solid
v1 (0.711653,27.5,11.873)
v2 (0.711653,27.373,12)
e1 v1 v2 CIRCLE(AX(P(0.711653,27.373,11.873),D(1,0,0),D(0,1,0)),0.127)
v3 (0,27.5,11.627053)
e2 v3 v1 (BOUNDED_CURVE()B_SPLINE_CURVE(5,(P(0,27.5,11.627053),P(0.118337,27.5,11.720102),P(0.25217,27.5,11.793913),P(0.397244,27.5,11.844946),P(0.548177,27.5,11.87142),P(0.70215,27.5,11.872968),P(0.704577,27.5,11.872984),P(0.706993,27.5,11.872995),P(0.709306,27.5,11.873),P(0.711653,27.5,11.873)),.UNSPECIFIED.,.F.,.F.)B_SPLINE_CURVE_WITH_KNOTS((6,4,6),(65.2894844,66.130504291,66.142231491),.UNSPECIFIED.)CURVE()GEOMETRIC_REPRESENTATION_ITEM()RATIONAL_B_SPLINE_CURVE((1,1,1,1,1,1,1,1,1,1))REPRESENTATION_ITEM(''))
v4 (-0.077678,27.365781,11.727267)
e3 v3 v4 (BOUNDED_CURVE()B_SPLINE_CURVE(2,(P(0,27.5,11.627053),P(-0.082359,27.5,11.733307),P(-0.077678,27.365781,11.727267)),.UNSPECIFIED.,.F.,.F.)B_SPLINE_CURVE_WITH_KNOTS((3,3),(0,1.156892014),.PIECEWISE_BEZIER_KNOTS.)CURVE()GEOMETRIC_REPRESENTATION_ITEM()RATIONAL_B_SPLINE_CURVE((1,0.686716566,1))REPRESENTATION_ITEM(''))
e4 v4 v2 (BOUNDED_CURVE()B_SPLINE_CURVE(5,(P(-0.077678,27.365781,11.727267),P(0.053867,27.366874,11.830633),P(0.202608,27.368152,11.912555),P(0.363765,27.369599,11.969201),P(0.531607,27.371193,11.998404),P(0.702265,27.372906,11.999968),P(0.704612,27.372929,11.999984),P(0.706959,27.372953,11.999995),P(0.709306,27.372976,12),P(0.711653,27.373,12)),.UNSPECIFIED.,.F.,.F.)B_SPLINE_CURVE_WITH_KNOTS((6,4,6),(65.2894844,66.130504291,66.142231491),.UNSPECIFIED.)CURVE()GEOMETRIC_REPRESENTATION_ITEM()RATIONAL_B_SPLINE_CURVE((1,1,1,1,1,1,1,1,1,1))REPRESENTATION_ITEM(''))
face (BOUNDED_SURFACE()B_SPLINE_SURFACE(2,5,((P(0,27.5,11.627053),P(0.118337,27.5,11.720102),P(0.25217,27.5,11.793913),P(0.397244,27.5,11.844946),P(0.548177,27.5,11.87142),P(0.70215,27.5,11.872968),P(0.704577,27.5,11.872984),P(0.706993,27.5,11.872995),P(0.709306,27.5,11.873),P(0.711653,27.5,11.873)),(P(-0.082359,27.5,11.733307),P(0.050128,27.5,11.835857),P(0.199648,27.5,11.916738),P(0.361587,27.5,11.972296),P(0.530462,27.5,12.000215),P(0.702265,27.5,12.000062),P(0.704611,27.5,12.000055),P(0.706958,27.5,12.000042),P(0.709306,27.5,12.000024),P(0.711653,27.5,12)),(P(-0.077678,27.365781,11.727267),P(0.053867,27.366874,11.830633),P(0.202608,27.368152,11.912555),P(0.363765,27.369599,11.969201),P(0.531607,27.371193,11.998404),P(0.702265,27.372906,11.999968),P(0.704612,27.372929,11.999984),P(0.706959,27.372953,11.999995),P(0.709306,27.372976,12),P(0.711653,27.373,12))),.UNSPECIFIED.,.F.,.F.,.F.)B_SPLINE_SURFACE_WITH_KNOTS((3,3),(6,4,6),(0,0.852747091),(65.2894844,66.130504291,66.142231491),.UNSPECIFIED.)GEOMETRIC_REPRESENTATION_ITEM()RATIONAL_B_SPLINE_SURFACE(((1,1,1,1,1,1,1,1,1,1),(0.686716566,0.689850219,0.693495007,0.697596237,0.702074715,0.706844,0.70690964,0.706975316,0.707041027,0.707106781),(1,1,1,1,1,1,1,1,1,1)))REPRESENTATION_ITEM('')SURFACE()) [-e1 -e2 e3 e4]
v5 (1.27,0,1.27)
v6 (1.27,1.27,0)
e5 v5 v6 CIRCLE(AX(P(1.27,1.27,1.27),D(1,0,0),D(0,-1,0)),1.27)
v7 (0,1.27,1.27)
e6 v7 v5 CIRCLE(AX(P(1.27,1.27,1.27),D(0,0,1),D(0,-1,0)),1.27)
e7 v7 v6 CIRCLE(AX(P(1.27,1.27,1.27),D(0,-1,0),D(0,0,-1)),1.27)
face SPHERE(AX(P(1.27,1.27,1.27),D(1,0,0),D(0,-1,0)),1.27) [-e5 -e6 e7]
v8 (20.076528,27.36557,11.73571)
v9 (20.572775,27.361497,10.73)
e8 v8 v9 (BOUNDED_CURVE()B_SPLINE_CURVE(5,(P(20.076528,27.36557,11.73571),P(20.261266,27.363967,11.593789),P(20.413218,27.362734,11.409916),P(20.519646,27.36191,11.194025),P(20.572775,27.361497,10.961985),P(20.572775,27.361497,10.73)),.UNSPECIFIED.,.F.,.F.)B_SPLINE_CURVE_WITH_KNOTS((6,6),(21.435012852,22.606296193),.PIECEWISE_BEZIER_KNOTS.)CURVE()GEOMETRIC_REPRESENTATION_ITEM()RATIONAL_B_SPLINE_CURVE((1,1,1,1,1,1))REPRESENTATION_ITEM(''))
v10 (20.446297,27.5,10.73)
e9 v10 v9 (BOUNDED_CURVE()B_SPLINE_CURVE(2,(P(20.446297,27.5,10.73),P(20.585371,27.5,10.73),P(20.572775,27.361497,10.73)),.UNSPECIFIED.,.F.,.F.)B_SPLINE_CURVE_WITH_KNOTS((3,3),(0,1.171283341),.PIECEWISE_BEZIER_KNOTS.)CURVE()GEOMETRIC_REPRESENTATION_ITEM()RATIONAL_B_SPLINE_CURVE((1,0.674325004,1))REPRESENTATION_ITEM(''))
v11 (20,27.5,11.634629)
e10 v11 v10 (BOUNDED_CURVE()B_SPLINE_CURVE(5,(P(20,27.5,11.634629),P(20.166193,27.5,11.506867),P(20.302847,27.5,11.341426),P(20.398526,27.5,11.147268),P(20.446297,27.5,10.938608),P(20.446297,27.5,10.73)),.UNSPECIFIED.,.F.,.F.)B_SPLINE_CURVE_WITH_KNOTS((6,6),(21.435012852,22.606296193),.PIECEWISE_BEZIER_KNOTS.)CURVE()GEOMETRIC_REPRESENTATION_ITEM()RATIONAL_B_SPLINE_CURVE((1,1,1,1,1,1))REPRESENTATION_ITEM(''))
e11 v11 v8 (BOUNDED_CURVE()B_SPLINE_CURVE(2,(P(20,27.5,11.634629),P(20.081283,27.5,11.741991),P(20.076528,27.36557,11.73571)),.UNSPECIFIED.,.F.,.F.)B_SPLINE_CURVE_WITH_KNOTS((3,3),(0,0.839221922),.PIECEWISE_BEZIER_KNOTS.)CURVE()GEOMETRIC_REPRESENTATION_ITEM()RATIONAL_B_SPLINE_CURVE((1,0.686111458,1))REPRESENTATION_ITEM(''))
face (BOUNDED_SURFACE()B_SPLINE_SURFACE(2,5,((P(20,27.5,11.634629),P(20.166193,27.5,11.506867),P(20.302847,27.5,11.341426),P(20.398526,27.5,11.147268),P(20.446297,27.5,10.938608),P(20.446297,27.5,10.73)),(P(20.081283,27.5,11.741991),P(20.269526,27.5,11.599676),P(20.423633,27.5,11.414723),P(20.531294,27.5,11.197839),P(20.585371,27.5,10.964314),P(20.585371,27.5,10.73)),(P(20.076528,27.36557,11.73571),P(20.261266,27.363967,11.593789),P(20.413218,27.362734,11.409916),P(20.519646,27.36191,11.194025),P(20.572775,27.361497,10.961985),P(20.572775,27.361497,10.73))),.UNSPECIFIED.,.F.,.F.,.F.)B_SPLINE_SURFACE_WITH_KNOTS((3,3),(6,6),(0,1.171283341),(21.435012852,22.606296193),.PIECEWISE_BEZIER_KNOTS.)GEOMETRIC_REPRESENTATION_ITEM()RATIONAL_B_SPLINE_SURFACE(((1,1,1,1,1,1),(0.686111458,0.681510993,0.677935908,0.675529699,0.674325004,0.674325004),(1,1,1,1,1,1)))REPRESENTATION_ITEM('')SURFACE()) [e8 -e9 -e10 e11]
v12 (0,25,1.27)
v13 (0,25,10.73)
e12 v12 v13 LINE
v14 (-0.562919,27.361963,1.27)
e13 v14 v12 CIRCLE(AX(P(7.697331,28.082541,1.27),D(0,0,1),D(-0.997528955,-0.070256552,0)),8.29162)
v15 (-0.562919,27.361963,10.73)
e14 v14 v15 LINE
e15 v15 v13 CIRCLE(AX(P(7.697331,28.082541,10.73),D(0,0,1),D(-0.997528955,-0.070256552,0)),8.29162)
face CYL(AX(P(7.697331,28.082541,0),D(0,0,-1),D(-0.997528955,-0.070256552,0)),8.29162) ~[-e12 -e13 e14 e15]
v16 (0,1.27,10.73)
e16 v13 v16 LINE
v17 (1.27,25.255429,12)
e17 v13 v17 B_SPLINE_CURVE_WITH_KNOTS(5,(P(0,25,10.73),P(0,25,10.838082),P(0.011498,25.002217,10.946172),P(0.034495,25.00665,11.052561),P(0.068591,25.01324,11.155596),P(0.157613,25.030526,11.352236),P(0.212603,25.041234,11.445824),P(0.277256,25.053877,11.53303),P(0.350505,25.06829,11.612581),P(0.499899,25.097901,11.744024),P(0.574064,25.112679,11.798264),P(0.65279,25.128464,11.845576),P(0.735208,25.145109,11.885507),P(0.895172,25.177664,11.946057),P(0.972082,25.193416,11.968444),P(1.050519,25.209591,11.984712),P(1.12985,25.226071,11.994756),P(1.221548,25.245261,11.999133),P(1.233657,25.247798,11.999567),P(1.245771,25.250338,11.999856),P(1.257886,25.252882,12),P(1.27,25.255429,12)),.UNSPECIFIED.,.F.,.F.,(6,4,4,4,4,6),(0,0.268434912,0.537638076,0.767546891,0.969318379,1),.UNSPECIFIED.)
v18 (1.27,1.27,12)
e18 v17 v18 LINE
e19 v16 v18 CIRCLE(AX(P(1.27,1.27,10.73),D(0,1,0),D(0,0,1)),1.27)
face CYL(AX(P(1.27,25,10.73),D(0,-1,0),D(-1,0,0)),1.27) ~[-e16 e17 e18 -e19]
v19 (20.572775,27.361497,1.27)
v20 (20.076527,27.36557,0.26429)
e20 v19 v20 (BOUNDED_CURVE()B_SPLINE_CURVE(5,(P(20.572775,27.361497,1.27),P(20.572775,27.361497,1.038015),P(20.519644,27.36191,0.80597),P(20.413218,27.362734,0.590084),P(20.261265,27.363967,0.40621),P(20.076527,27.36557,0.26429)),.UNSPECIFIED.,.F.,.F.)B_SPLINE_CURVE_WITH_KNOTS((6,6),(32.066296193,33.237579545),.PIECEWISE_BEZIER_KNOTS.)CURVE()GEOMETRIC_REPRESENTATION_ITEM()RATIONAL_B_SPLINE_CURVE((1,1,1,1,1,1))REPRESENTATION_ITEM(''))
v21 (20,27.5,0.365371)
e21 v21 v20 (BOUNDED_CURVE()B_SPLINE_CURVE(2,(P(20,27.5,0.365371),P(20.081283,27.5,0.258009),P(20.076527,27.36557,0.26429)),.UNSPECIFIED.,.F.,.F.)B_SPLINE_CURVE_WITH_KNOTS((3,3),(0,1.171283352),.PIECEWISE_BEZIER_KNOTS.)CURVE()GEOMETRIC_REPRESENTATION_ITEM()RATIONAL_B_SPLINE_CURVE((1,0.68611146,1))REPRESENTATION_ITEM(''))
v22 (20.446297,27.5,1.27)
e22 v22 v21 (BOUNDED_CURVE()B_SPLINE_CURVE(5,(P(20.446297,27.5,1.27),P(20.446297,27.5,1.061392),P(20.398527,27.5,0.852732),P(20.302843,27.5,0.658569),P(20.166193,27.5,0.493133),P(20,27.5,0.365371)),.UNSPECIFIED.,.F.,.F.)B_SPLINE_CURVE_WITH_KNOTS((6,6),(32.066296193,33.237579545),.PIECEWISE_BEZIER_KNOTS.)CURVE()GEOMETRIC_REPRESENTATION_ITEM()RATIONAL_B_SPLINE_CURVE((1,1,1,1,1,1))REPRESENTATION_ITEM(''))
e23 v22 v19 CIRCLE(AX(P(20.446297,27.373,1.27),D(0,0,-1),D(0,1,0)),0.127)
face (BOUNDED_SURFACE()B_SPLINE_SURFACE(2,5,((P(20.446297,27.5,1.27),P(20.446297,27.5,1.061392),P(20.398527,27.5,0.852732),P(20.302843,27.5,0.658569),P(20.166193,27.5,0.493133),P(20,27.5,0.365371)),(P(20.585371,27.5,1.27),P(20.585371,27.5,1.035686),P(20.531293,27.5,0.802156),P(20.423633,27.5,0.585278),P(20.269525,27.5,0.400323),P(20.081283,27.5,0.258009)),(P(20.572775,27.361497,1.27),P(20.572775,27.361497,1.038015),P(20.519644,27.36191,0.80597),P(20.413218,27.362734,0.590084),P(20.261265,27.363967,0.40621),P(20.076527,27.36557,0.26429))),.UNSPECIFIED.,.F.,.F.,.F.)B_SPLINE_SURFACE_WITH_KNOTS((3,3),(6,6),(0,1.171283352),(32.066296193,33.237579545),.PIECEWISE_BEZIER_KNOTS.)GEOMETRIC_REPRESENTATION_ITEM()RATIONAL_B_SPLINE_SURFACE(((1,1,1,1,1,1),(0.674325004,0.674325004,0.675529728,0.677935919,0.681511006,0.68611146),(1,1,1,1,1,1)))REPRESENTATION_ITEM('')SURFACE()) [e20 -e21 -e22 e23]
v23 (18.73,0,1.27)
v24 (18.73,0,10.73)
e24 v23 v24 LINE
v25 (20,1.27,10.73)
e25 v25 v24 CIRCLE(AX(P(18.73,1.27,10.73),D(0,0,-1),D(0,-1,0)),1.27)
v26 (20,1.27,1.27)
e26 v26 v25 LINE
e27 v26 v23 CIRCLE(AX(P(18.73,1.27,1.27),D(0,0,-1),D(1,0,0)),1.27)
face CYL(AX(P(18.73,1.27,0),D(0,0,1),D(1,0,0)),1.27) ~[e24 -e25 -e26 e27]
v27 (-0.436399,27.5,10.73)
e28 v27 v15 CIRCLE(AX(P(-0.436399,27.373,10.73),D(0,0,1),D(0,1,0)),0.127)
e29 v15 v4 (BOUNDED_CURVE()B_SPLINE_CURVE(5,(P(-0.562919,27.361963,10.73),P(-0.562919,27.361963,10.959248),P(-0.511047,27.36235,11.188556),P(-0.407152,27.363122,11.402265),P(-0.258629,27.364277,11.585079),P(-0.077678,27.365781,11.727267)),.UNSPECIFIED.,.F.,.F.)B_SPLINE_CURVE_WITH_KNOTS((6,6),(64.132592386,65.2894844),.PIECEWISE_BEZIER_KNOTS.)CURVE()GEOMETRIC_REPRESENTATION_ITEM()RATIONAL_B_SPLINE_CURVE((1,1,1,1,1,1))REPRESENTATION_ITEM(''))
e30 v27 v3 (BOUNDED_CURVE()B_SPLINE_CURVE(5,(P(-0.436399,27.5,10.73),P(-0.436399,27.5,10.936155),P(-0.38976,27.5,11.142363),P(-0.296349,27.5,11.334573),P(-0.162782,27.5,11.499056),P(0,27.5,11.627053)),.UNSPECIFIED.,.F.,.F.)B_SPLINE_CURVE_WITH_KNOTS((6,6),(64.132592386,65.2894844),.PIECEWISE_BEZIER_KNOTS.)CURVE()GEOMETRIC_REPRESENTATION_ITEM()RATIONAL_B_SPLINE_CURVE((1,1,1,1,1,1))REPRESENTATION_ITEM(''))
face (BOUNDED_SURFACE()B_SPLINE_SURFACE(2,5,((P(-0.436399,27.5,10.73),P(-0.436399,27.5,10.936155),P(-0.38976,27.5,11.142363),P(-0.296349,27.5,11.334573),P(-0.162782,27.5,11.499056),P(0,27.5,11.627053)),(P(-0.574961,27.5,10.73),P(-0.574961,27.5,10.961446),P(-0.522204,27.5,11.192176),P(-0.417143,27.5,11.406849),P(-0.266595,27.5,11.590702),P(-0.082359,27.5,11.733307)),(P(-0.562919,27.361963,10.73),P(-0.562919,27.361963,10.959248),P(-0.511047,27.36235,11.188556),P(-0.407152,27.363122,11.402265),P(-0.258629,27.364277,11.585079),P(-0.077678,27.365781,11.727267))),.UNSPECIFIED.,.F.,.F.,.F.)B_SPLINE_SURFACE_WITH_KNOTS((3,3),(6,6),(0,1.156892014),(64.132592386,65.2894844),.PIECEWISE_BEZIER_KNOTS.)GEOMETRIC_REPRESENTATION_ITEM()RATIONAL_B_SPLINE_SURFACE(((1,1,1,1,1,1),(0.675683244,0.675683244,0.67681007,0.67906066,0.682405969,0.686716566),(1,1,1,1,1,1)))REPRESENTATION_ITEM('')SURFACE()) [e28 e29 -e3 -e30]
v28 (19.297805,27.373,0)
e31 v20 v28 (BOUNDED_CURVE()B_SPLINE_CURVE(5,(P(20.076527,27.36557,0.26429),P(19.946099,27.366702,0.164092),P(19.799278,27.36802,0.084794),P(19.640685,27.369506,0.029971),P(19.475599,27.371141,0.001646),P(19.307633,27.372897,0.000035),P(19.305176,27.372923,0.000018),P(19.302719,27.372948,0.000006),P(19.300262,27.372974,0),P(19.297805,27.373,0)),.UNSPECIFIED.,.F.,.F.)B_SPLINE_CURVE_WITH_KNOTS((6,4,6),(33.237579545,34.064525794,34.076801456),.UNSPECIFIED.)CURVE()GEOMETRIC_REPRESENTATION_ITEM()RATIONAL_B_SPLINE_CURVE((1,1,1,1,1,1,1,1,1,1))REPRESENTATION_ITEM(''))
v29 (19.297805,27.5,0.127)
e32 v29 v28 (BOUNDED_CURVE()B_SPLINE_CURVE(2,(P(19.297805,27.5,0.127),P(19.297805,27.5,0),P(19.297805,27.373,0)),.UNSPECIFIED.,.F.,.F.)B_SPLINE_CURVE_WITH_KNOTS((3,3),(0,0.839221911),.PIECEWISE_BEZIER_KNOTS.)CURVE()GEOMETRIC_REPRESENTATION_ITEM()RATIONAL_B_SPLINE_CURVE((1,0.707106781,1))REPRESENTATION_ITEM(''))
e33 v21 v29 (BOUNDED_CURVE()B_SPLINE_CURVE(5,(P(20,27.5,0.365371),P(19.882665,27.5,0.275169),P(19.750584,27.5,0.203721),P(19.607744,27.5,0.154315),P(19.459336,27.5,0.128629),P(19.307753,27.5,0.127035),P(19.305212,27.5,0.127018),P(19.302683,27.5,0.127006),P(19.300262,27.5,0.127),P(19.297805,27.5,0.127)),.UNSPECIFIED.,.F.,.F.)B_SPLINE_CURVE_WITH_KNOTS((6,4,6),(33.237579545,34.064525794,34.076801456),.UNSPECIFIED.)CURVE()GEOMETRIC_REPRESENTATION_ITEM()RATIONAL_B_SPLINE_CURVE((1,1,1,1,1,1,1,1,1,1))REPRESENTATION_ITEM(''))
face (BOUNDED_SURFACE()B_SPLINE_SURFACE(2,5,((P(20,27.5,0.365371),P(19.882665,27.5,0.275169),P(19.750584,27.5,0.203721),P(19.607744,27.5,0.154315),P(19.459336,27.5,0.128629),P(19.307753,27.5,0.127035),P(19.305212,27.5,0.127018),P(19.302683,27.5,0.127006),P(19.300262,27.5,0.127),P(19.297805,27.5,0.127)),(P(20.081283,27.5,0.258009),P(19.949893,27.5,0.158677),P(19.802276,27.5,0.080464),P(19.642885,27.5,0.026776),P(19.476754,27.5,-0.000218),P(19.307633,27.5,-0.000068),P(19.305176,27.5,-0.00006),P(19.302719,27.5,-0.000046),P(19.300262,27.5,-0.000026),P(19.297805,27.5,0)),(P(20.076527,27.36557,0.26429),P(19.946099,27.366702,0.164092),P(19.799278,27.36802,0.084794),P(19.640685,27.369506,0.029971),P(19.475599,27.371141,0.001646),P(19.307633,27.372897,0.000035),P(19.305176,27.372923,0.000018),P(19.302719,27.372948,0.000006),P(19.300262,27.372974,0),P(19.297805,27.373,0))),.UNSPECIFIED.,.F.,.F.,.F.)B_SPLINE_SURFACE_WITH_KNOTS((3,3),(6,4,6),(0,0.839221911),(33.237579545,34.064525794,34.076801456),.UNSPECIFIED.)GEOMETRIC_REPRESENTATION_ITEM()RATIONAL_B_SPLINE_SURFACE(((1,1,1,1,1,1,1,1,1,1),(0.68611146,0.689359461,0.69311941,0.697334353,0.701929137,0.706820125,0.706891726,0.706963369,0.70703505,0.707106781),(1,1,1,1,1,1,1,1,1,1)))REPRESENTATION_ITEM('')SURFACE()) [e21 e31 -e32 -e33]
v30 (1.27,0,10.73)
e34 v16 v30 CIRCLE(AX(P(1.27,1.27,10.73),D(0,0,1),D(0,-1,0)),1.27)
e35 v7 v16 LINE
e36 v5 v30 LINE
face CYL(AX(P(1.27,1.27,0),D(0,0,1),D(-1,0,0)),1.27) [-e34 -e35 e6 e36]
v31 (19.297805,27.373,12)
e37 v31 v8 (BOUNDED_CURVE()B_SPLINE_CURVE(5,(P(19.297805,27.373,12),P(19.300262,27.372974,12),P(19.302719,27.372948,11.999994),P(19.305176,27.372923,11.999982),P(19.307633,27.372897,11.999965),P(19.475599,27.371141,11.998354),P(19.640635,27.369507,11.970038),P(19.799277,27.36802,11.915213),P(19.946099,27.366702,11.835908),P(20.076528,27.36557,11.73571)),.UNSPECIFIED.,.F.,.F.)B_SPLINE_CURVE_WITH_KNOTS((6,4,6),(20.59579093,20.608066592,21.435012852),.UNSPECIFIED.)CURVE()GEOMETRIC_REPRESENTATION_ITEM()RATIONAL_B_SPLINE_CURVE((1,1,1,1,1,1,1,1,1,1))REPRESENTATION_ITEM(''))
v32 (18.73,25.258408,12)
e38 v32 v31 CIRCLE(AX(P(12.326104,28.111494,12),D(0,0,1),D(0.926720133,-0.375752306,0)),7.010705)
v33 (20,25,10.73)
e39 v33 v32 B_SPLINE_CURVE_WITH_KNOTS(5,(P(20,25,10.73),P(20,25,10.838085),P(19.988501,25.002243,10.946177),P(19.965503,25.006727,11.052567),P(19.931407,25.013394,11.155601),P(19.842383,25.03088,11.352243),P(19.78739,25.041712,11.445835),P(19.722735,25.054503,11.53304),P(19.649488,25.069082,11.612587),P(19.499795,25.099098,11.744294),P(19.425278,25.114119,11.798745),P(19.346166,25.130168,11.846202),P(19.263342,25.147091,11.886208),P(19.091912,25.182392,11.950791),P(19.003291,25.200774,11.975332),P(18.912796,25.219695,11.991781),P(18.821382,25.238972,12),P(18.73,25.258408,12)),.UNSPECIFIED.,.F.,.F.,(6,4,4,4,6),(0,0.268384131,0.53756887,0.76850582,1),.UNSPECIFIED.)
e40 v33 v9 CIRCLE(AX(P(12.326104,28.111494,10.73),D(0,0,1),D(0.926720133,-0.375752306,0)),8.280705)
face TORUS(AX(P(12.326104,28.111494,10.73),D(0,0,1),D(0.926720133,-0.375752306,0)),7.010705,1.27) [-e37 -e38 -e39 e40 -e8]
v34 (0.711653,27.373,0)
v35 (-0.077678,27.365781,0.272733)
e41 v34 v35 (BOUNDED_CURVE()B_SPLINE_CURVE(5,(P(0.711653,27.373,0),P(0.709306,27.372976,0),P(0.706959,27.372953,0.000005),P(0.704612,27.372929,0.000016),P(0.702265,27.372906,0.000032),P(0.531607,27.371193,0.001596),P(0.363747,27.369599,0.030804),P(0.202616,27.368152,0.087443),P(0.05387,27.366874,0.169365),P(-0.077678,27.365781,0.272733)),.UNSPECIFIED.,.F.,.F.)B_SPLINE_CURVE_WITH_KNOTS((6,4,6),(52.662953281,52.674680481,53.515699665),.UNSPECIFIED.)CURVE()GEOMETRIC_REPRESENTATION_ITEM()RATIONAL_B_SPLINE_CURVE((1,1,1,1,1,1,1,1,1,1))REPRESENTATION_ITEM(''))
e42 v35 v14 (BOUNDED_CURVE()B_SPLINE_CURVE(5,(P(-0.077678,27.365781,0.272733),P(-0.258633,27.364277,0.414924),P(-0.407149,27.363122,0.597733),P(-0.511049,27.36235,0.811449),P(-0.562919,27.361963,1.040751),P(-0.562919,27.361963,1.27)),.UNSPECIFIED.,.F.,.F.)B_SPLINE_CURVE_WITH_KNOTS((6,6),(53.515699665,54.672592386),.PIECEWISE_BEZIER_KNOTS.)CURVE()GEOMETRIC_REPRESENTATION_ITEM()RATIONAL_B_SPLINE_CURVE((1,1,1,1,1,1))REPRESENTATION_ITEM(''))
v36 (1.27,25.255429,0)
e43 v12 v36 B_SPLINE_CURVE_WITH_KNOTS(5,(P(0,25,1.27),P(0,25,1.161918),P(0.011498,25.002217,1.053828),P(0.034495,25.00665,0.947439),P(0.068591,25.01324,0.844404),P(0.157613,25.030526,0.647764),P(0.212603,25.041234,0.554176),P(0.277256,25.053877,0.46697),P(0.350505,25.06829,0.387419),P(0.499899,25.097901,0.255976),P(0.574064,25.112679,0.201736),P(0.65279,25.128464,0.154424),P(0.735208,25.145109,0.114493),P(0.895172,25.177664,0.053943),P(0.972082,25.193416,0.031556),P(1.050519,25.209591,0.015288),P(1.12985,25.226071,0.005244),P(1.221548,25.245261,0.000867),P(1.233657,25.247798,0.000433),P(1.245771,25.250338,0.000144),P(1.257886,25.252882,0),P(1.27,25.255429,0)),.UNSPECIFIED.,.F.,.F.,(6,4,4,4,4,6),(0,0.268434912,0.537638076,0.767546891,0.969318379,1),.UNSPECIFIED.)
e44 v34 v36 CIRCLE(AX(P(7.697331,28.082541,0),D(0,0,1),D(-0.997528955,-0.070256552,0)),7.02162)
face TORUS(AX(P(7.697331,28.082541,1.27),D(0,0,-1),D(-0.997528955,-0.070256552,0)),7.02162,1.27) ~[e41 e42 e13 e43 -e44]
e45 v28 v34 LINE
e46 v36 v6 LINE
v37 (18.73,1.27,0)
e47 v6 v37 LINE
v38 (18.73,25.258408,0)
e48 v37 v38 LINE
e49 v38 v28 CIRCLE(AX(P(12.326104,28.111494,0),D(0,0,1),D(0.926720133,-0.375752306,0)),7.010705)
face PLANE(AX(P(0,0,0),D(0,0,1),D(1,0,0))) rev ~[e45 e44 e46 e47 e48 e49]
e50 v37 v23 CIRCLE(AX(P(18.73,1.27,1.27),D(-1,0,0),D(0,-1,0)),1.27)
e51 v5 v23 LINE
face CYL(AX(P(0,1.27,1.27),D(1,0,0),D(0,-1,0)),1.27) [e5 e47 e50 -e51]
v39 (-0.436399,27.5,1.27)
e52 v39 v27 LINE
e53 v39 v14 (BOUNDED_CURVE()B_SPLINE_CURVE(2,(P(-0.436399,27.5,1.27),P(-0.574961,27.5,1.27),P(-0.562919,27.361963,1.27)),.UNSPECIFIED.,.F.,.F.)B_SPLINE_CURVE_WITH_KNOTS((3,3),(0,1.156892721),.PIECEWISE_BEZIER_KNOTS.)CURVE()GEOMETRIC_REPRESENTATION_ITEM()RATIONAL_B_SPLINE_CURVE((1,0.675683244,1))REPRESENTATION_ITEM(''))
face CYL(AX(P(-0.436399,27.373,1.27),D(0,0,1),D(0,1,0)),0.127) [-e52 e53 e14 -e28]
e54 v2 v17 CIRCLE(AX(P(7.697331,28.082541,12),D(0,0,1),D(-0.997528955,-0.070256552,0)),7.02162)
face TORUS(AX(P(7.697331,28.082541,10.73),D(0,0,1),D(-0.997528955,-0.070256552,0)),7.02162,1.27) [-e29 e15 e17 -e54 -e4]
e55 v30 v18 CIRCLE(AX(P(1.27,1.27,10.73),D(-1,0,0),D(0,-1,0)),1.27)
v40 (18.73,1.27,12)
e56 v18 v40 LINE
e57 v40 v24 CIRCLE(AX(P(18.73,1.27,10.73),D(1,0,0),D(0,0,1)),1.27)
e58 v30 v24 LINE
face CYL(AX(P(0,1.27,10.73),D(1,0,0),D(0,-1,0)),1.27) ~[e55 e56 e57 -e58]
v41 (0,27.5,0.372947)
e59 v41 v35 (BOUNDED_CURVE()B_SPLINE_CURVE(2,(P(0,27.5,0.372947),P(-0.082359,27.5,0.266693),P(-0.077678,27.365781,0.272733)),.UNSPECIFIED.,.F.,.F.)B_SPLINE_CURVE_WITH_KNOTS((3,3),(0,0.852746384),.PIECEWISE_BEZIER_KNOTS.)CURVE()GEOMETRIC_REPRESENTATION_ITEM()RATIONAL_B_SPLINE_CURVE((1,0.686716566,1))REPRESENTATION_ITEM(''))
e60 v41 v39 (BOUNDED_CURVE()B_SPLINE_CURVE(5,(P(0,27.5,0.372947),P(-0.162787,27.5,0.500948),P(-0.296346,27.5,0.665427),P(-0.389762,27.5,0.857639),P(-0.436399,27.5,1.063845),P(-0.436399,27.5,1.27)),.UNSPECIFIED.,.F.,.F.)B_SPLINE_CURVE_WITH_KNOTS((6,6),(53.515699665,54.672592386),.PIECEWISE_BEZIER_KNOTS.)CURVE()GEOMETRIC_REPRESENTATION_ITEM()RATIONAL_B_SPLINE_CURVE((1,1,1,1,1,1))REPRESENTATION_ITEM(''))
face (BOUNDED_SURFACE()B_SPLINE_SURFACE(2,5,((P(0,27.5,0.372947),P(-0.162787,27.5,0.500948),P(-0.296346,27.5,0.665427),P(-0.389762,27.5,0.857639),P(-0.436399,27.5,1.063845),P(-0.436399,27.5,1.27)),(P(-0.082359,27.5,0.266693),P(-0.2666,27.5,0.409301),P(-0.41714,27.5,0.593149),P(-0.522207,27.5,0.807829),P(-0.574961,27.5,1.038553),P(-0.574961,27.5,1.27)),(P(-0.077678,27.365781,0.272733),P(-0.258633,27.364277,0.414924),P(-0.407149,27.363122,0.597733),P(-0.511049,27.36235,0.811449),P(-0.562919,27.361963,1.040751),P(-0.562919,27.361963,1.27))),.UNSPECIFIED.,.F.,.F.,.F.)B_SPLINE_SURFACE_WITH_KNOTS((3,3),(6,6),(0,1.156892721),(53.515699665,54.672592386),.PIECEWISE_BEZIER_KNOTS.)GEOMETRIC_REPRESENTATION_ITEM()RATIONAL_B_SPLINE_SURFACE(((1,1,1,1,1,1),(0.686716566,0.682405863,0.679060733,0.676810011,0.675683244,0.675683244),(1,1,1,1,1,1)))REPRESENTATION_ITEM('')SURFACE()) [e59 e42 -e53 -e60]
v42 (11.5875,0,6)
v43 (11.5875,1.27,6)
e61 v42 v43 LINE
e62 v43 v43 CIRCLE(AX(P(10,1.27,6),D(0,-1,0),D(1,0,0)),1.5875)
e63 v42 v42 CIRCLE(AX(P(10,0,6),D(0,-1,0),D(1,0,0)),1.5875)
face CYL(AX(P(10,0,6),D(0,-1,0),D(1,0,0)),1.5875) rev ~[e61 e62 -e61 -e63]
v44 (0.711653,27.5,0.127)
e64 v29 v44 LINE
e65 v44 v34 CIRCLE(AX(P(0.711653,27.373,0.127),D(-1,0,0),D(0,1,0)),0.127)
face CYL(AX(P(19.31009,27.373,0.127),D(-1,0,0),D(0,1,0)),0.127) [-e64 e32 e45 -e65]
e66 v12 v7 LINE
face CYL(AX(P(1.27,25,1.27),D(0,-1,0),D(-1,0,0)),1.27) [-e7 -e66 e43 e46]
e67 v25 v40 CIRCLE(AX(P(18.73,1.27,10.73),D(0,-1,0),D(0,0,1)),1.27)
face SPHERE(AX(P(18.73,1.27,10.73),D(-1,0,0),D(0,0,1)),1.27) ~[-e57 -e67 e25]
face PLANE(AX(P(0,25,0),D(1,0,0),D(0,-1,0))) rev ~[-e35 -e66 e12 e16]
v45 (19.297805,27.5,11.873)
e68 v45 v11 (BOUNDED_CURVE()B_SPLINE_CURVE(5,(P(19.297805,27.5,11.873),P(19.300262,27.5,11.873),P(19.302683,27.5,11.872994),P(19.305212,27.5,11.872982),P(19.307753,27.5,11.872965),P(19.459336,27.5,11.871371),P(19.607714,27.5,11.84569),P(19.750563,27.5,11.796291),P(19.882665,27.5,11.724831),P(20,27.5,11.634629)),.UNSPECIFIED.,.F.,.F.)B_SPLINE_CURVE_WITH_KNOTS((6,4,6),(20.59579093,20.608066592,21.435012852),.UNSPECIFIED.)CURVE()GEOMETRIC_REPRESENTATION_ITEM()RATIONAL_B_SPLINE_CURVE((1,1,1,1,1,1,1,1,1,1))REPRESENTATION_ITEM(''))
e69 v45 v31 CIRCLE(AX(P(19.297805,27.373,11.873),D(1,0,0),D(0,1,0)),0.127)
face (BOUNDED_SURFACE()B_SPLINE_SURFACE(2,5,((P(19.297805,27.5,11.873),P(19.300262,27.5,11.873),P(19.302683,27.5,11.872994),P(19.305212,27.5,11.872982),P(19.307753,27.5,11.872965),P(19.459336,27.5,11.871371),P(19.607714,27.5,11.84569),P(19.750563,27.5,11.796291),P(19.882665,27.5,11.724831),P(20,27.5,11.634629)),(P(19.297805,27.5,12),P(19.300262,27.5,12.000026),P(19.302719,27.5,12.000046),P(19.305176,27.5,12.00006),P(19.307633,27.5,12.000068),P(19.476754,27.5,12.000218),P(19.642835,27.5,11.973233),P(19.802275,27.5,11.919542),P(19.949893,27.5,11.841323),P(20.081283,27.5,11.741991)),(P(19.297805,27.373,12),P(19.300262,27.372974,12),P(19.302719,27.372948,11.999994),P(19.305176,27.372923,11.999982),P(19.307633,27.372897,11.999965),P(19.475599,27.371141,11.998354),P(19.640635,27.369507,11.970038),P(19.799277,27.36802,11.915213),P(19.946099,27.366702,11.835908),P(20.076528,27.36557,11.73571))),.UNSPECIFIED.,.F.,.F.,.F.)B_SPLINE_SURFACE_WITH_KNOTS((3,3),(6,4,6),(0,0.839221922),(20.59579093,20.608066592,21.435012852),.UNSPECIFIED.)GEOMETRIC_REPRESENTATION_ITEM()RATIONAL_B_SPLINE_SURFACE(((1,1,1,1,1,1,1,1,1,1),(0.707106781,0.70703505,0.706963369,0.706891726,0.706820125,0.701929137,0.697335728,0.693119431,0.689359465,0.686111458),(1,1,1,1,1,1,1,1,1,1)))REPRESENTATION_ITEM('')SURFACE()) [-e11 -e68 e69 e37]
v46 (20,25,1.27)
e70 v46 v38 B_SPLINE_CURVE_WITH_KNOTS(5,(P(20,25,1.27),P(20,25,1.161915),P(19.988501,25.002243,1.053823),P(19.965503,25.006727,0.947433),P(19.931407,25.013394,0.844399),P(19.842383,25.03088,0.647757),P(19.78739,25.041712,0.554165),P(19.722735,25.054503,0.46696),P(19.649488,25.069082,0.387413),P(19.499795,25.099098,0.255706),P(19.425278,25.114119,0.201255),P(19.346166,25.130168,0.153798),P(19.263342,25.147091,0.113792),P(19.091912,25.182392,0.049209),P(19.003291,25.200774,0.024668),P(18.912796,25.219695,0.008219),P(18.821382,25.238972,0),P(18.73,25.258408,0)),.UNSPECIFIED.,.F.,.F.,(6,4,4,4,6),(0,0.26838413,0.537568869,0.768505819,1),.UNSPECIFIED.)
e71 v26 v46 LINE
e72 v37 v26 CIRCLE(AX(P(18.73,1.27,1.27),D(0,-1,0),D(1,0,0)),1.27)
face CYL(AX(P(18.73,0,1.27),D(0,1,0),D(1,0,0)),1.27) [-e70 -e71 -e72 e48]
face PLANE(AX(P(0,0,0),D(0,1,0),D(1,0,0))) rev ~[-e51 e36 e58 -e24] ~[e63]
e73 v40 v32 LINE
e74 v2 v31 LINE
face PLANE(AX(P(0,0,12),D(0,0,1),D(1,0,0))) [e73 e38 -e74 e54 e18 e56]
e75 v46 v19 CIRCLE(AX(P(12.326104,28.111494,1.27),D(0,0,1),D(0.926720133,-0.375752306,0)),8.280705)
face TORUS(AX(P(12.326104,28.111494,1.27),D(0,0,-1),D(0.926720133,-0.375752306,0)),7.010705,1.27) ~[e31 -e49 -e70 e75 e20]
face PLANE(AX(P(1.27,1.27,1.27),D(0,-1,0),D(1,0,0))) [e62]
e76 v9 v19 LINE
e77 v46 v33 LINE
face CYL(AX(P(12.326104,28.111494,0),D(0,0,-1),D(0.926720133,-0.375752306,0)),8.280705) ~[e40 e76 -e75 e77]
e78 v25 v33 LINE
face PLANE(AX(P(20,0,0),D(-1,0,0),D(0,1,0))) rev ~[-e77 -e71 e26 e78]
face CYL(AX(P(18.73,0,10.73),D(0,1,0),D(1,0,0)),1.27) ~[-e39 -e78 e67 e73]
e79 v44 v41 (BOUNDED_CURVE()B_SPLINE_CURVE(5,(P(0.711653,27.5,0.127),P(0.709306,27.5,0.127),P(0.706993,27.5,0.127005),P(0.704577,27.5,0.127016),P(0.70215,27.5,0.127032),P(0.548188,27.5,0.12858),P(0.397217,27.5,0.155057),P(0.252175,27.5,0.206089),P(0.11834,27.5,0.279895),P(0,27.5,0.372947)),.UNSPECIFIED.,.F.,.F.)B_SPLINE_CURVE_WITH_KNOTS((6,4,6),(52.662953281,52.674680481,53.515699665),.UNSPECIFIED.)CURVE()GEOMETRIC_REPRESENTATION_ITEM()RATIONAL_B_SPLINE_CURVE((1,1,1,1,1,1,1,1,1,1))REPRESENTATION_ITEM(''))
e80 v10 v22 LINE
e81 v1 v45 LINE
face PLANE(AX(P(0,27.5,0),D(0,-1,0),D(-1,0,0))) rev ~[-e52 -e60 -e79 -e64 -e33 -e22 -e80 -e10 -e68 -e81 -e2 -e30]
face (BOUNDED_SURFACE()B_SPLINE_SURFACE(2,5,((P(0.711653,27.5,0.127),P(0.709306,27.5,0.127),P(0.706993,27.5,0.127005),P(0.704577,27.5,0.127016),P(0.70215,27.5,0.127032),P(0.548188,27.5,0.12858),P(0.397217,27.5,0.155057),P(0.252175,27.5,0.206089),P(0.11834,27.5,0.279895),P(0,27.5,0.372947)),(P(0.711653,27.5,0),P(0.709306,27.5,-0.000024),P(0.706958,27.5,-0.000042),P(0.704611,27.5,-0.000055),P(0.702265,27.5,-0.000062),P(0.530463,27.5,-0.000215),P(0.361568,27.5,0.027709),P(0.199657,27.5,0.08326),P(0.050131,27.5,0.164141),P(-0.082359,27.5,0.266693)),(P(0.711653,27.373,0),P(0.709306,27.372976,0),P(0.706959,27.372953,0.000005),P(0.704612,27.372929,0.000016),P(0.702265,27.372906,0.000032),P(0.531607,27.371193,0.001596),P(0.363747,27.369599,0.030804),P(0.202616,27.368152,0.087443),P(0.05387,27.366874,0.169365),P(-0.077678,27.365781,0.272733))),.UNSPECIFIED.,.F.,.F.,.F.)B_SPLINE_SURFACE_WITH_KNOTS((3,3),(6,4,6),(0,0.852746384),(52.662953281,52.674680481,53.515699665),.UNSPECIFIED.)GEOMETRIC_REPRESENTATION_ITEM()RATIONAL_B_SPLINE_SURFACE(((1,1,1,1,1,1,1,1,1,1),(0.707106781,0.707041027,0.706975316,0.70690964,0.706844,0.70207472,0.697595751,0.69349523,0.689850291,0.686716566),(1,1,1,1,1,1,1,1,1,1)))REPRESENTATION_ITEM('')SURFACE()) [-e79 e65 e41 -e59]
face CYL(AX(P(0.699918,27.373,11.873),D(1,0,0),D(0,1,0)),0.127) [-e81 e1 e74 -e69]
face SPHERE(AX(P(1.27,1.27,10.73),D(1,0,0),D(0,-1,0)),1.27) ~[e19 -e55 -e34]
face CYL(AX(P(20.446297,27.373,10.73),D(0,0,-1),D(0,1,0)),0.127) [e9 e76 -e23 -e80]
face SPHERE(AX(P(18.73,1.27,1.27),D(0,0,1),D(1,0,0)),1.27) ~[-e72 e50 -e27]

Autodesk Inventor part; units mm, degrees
ref_plane "YZ Plane" through (0, 0, 0) normal (1, 0, 0) x (0, 1, 0)
ref_plane "XZ Plane" through (0, 0, 0) normal (0, 1, 0) x (-1, 0, 0)
ref_plane "XY Plane" through (0, 0, 0) normal (0, 0, 1) x (1, 0, 0)
sketch "Sketch1" plane through (0, 0, 0) normal (0, 0, 1) x (1, 0, 0)
  line L0 (0, 0) -> (20, 0)
  line L1 (20, 0) -> (20, 25)
  line L2 (0, 25) -> (0, 0)
  line L3 (0, 27.5) -> (-0.5738, 27.5)
  line L4 (20, 27.5) -> (20.5842, 27.5)
  arc A0 (-0.5738, 27.5) -> (0, 25) centre (7.6984, 28.0827) ccw
  arc A1 (20, 25) -> (20.5842, 27.5) centre (12.3264, 28.1114) ccw
  line L5 (-0.5738, 27.5) -> (20, 27.5)
  dimension "d0" = 20
  dimension "d1" = 25
extrude "Extrusion1" add sketch "Sketch1" along normal blind 12
fillet "Fillet1" radius 1.27 12 edges at (10, 0, 12) (20, 12.5, 12) (20, 0, 6) (20, 12.5, 0) (10, 0, 0) (0, 0, 6) (0, 12.5, 0) (0, 12.5, 12) (20.3896, 26.2272, 12) (20.3896, 26.2272, 0) (-0.3841, 26.2277, 0) (-0.3841, 26.2277, 12)
fillet "Fillet2" radius 0.127 7 edges at (-0.2004, 27.5, 11.6285) (-0.5738, 27.5, 6) (-0.2004, 27.5, 0.3715) (19.6696, 27.5, 0.0516) (20.5842, 27.5, 6) (19.6696, 27.5, 11.9484) (10.005, 27.5, 12)
sketch "Sketch2" plane through (1.27, 0, 1.27) normal (0, -1, 0) x (1, 0, 0)
  line L0 (0, 0) -> (-1.27, 0) projected
  line L1 (0, 9.46) -> (0, 10.73) projected
  line L2 (0, 0) -> (0, 9.46)
  circle A0 centre (8.73, 4.73) radius 1.5875
  point P0 (-1.27, -1.27)
extrude "Extrusion2" cut sketch "Sketch2" against normal blind 1.27
properties part number "Tc-1"
